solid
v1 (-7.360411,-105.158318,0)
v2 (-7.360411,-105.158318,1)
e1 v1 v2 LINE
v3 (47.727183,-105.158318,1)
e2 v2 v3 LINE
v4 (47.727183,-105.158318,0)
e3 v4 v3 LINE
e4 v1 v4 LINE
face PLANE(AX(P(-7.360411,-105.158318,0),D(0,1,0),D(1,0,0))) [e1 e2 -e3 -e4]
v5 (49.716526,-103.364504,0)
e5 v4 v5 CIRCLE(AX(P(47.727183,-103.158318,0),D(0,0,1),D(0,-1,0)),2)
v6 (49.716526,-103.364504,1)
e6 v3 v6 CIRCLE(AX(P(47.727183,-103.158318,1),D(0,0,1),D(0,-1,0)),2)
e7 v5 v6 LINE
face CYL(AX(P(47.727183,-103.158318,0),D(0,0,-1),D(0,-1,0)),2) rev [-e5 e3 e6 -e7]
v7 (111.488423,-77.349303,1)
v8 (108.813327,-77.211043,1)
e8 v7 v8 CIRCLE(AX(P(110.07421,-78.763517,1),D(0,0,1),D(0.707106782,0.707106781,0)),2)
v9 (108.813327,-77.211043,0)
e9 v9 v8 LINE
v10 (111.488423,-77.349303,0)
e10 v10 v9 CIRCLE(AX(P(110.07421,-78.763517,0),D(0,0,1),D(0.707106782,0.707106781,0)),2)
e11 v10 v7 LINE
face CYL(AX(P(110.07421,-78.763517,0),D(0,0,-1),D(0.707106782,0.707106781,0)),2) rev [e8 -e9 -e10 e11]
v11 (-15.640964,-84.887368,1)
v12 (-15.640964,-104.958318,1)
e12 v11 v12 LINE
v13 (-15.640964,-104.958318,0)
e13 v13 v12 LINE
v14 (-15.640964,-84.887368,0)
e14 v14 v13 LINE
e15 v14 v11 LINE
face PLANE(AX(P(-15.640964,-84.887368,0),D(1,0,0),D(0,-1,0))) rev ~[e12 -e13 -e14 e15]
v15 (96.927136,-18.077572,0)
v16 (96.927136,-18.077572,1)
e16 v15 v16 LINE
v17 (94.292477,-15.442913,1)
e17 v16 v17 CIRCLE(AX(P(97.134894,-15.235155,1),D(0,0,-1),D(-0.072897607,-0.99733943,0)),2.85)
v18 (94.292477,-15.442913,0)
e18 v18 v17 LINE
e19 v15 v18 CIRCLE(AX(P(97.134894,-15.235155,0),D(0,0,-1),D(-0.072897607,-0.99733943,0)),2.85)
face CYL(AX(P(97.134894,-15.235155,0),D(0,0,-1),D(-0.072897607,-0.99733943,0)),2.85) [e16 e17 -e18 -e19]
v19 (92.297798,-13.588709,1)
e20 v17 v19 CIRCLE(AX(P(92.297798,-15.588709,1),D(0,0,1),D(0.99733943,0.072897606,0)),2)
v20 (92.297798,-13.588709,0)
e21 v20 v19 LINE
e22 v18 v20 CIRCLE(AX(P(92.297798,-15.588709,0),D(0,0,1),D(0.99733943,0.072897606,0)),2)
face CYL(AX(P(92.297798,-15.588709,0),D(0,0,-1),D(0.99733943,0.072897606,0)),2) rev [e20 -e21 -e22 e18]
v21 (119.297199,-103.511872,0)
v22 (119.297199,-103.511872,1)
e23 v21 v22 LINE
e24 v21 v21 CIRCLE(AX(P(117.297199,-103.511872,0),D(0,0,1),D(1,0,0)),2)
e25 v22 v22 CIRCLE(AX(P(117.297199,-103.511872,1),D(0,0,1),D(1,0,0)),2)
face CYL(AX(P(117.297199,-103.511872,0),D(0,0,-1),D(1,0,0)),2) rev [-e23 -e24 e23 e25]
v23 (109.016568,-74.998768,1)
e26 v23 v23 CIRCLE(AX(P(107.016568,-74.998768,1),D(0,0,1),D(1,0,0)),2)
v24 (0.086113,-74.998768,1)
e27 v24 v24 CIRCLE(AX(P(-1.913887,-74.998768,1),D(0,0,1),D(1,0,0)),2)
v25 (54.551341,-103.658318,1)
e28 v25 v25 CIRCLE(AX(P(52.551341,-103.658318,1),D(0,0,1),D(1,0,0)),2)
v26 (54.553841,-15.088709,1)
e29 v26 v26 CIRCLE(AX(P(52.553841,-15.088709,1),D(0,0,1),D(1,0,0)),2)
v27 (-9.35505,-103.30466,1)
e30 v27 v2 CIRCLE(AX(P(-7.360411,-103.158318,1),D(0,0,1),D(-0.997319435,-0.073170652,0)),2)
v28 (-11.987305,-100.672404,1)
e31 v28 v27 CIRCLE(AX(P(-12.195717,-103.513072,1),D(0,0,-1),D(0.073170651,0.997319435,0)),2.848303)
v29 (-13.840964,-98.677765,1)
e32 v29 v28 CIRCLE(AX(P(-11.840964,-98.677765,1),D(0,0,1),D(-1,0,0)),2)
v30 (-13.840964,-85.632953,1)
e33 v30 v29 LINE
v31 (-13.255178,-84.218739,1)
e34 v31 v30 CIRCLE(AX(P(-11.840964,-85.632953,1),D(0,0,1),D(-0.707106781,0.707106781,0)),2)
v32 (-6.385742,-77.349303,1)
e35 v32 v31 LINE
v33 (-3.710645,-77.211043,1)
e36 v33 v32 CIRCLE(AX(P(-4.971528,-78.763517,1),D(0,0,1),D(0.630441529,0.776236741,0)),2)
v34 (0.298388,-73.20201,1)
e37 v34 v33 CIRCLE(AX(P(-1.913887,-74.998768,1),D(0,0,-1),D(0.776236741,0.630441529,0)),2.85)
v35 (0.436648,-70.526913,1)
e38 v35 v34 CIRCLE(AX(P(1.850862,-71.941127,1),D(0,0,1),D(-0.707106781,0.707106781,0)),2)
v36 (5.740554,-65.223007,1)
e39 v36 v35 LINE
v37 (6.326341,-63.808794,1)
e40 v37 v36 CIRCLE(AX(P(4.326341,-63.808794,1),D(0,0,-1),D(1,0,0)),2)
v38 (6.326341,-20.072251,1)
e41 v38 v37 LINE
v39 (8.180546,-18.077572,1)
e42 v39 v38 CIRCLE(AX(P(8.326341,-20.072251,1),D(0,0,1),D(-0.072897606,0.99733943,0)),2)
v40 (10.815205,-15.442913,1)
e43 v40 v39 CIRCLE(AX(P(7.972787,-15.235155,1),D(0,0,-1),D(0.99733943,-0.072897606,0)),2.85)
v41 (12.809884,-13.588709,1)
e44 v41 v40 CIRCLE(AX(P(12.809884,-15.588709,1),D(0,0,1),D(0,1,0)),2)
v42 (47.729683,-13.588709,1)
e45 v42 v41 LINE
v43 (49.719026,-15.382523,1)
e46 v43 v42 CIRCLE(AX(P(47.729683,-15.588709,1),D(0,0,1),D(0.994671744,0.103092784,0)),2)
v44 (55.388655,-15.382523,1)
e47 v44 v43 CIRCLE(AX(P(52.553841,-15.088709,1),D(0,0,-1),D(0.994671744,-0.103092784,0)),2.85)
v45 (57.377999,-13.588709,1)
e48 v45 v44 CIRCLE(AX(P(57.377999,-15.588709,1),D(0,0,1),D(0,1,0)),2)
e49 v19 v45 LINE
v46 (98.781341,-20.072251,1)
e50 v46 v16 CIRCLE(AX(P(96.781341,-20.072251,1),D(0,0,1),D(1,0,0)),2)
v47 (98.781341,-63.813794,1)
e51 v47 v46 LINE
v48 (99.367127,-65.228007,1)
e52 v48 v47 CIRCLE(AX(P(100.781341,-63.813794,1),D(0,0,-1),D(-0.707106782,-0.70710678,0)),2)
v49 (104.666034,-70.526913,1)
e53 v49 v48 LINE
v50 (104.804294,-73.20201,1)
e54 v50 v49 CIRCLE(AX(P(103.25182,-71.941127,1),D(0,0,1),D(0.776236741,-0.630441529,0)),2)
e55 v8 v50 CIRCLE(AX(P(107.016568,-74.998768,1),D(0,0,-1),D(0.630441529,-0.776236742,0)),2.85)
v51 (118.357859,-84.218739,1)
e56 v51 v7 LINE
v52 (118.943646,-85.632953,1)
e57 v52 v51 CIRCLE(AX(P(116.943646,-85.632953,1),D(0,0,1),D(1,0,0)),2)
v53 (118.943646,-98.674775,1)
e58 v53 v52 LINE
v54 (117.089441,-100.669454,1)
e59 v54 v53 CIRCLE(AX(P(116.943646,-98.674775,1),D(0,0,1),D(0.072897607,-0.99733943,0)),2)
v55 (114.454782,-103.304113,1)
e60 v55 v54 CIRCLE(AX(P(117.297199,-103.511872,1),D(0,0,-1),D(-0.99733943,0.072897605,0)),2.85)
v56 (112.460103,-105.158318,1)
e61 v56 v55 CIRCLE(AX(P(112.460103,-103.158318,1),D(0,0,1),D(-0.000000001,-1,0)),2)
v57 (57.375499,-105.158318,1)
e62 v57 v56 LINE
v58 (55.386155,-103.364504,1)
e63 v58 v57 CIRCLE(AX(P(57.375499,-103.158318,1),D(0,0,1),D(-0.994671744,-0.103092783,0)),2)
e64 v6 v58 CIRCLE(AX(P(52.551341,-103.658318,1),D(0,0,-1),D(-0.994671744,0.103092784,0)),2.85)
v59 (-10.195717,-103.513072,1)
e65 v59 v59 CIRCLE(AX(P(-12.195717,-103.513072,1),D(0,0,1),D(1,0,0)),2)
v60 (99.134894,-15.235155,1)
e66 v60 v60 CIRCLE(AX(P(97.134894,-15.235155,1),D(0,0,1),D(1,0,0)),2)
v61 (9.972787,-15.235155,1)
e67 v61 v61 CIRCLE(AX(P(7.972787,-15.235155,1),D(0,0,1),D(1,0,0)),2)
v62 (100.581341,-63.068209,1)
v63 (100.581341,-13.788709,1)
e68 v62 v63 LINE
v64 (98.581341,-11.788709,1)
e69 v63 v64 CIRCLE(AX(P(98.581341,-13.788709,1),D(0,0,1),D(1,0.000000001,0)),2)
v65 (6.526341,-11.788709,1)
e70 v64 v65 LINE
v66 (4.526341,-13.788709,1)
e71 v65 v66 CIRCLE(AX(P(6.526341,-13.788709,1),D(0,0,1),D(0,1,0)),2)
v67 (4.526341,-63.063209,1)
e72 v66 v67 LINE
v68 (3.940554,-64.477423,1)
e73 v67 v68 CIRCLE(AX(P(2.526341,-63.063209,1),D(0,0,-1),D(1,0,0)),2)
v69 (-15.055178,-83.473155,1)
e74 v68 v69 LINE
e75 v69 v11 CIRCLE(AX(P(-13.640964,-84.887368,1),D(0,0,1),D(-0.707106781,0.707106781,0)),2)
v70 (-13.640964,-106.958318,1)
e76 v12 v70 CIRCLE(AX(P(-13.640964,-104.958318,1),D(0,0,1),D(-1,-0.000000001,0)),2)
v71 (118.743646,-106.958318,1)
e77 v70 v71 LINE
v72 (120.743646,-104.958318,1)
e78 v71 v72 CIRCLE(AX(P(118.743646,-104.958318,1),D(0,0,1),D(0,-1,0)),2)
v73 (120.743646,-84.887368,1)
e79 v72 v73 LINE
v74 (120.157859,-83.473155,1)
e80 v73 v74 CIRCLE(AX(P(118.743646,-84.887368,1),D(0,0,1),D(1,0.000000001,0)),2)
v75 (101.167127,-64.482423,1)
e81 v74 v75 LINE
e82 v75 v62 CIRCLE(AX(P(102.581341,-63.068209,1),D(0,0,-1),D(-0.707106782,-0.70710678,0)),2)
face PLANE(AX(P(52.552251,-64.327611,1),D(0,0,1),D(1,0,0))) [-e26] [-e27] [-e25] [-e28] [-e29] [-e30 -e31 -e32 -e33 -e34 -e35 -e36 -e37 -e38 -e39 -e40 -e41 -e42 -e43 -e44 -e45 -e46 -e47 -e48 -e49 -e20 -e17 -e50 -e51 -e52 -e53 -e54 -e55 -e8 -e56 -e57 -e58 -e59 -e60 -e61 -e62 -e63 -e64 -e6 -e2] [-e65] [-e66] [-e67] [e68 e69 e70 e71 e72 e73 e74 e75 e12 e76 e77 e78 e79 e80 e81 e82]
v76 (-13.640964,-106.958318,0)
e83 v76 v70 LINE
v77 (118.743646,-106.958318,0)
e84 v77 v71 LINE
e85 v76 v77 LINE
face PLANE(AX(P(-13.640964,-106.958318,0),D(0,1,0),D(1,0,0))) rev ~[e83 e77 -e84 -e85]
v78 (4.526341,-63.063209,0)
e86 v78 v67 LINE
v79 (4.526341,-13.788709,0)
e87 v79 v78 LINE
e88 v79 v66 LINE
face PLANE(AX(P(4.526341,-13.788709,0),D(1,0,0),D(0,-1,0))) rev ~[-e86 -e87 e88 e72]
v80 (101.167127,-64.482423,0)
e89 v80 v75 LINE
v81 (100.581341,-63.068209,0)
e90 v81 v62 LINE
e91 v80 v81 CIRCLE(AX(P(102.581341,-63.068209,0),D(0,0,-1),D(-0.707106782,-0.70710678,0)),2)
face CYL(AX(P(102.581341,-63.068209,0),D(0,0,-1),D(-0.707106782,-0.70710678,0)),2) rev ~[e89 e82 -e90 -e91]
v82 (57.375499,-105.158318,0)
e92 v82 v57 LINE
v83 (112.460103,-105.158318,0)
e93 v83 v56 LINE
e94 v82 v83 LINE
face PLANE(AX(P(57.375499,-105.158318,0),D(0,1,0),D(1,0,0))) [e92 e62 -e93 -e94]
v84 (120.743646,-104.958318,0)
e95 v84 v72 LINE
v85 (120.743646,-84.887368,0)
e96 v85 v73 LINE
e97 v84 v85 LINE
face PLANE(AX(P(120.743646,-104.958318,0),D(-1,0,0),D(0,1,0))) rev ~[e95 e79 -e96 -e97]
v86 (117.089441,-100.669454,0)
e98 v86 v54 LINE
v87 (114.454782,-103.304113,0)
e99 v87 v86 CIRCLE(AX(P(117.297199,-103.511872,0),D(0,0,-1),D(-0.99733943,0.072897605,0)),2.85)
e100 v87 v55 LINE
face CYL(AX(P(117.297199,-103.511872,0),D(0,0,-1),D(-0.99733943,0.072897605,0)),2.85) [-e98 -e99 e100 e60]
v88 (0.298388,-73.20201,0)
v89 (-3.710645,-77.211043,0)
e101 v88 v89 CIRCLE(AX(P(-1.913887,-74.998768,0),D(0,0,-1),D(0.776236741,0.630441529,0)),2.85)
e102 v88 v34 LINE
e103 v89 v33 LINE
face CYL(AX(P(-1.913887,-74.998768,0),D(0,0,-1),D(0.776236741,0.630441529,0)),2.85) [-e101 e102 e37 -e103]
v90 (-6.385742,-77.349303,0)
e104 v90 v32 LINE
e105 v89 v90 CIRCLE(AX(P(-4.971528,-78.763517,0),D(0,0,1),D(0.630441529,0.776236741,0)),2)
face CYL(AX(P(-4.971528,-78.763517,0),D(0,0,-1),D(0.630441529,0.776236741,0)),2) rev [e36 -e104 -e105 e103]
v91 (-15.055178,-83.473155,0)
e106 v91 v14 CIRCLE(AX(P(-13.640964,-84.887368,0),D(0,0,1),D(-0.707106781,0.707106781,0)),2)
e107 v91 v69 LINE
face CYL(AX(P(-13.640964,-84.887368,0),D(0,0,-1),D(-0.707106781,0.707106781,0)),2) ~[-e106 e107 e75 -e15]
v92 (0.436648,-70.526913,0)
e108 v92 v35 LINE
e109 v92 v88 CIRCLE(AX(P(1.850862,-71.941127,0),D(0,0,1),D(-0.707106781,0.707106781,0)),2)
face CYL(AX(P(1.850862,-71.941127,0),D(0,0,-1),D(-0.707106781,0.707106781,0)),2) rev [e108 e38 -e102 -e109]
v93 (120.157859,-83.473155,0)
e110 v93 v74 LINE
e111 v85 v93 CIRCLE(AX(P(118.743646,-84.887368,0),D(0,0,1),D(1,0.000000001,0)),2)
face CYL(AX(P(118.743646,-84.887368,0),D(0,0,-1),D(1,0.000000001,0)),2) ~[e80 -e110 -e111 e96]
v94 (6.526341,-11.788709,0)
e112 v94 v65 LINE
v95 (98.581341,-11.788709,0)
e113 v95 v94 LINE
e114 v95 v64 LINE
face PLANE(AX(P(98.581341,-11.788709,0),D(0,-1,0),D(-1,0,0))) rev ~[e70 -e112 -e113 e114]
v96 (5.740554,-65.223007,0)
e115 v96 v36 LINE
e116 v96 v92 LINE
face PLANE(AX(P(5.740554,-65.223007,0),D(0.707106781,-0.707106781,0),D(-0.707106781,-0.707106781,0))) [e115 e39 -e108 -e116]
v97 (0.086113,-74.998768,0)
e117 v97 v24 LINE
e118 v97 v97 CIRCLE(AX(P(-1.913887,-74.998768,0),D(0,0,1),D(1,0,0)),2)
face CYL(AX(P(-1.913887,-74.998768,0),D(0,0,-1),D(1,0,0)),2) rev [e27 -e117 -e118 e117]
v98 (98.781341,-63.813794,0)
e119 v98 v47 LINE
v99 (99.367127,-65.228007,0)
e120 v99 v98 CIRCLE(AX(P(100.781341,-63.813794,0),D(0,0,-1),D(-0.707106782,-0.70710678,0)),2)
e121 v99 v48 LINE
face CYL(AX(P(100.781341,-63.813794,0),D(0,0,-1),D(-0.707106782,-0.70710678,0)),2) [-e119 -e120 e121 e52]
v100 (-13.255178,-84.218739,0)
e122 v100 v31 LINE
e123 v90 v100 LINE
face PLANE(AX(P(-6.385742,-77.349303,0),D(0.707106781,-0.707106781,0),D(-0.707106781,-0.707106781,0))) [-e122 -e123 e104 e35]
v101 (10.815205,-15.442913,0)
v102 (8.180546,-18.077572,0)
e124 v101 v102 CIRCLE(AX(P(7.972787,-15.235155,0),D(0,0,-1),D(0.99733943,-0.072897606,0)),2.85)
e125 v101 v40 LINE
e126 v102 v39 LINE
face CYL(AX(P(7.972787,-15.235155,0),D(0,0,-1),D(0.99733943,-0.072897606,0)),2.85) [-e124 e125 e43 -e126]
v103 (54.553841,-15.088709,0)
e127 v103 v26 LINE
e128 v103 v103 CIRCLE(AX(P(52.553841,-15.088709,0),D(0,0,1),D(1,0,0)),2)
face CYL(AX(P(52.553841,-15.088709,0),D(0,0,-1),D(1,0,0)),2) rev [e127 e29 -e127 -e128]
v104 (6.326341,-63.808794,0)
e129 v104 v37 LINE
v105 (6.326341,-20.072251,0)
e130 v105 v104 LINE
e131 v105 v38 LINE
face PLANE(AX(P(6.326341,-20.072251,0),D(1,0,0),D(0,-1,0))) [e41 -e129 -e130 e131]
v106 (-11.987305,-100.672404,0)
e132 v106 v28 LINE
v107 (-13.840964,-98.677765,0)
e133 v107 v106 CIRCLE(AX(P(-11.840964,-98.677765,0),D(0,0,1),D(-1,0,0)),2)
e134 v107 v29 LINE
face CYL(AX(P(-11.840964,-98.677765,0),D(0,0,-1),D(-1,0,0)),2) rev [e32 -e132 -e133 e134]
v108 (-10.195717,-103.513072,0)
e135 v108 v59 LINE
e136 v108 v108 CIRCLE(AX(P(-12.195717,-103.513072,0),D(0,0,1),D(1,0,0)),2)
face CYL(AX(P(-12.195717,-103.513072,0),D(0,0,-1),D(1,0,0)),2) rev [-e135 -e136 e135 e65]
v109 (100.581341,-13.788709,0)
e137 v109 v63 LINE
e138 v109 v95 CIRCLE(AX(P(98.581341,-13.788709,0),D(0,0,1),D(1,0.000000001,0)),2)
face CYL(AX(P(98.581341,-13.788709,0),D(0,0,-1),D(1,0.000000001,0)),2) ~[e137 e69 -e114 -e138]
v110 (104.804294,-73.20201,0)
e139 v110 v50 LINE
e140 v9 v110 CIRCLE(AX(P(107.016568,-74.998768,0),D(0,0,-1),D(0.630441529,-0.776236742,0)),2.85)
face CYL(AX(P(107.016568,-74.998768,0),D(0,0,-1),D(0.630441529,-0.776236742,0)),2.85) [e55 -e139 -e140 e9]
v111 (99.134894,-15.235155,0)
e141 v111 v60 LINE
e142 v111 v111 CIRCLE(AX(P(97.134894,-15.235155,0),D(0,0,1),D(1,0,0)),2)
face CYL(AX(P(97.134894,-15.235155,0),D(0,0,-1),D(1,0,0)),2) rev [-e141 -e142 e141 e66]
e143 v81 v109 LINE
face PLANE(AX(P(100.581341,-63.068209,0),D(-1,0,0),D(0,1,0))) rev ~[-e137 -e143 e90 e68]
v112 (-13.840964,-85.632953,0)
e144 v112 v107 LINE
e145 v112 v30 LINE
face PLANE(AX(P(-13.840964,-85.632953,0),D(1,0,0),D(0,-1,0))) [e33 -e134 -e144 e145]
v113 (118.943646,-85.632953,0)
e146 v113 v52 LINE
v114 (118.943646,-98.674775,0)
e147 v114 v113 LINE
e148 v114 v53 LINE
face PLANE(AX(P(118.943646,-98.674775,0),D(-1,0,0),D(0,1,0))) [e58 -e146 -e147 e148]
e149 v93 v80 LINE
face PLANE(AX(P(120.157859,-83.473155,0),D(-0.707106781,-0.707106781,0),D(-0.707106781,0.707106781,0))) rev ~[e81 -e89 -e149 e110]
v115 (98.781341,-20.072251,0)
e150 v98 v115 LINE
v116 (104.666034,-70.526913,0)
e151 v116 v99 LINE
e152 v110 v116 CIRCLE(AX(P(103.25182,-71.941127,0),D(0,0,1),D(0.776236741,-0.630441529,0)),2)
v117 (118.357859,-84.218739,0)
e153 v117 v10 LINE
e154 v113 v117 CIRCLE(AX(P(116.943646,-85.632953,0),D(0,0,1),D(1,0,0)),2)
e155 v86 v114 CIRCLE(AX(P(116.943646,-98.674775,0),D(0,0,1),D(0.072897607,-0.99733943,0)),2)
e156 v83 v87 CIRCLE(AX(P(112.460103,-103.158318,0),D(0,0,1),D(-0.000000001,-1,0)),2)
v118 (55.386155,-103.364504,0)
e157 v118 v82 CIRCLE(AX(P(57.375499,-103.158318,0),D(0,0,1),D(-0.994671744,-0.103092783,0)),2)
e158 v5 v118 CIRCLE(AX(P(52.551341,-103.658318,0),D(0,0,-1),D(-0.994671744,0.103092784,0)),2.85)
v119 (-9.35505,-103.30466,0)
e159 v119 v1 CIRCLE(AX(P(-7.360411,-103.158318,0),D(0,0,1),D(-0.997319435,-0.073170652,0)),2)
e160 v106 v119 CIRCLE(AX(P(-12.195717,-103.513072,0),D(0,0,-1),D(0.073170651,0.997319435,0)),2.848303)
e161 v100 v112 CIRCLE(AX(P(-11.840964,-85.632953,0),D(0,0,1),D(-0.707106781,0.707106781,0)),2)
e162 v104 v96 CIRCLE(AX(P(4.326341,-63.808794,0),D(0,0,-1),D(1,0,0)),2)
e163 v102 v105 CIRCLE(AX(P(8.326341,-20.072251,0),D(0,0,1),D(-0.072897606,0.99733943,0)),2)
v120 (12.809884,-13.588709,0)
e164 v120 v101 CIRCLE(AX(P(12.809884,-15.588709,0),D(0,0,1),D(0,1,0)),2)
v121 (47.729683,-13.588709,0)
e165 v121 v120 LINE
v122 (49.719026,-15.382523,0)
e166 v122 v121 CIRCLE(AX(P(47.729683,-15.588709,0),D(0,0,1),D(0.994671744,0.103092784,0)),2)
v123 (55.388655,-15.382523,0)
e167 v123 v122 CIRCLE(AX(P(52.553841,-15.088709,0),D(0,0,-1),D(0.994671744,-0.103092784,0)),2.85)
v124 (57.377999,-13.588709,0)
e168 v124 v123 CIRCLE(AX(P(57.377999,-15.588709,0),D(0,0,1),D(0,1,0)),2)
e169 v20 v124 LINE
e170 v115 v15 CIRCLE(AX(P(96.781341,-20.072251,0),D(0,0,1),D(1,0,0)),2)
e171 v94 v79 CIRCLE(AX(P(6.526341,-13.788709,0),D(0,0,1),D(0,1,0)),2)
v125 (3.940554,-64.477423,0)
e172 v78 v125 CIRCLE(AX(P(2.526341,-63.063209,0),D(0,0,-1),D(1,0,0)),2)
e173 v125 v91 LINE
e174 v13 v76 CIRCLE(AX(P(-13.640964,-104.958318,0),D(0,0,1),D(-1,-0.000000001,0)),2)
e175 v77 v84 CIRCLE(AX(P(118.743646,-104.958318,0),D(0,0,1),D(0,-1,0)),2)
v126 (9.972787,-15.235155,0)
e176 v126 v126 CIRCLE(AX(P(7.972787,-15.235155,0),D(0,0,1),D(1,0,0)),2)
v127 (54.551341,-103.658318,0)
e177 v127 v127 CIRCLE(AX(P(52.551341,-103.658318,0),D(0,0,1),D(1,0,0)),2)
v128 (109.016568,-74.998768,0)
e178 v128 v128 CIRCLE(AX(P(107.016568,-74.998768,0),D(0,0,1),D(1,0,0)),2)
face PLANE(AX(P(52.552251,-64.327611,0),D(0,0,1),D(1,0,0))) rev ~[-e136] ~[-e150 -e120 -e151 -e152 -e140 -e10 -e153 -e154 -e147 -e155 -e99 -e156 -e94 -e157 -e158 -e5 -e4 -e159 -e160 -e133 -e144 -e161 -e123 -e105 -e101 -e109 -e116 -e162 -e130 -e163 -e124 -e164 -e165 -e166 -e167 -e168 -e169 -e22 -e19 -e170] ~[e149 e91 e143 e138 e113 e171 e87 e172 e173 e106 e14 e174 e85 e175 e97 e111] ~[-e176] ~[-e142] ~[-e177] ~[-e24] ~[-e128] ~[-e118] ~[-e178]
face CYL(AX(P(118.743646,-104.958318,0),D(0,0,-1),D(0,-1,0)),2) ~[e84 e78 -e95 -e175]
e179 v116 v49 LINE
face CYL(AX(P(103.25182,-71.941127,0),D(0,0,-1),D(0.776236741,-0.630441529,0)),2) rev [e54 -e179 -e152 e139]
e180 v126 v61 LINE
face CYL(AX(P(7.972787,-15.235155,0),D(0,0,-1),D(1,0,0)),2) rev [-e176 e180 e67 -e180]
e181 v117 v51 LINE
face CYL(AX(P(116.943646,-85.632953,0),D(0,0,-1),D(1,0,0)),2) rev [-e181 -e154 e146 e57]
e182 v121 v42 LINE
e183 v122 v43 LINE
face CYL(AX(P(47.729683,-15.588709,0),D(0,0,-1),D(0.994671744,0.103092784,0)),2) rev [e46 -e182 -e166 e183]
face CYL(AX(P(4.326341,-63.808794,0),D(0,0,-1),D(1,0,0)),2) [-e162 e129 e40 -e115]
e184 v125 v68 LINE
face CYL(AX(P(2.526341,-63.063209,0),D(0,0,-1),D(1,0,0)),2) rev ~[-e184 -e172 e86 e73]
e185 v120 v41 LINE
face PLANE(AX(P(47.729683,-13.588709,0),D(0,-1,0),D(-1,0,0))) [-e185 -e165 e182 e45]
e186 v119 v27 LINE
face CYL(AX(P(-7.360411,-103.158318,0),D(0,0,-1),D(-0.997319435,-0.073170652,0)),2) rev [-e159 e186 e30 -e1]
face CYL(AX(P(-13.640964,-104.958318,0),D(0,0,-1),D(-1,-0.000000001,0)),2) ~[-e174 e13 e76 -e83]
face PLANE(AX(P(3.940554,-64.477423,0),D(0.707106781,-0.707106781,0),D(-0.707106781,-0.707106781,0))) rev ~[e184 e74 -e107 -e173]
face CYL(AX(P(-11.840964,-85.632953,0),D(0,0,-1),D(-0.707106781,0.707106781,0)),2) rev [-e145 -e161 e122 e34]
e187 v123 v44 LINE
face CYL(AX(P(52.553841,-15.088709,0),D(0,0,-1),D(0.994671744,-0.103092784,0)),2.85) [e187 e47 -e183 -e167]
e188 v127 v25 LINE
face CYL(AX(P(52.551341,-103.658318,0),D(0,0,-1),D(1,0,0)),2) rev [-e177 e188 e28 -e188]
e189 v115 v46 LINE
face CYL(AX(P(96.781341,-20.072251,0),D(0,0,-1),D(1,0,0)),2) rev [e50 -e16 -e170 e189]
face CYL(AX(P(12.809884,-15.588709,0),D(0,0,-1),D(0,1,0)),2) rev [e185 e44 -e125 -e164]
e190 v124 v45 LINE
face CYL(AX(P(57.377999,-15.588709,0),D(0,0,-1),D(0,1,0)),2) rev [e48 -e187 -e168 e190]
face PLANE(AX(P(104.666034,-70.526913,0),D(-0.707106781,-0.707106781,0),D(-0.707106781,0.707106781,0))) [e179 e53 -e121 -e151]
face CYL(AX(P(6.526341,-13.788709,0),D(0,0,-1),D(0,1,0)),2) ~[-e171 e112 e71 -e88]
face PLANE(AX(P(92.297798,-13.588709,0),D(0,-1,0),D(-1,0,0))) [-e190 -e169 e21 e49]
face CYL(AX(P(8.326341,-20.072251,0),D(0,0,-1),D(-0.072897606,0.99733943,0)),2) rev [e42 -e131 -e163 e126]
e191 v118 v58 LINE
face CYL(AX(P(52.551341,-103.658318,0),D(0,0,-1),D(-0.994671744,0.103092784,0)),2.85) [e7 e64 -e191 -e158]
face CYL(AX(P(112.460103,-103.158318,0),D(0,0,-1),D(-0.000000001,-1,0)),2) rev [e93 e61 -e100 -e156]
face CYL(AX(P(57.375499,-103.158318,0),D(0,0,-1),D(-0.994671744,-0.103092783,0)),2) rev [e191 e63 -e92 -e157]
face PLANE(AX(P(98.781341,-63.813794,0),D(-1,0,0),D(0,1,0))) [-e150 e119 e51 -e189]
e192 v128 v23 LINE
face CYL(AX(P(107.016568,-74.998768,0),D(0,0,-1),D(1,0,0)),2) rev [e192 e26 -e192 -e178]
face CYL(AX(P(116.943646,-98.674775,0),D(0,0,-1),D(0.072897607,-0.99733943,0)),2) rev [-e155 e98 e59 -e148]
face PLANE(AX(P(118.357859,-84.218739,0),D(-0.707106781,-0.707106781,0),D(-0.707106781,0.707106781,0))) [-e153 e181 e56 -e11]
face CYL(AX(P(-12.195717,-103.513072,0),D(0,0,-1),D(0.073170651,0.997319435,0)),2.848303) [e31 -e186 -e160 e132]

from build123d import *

# Parameters (mm, degrees)
SKETCH1_R           = 2
BOSS_EXTRUDE1_DEPTH = 1


with BuildPart() as part:
    # Sketch1 → Boss-Extrude1 (new body)
    with BuildSketch(Plane.XY):
        with BuildLine():
            Line((100.581340861, -63.068209116), (100.581340861, -13.788708514))
            ThreePointArc((100.581340861, -13.788708514), (99.995554423, -12.374494952), (98.581340861, -11.788708514))
            Line((98.581340861, -11.788708514), (6.526340861, -11.788708514))
            ThreePointArc((6.526340861, -11.788708514), (5.112127298, -12.374494952), (4.526340861, -13.788708514))
            Line((4.526340861, -13.788708514), (4.526340861, -63.063209116))
            ThreePointArc((4.526340861, -63.063209116), (4.374099926, -63.828575981), (3.940554423, -64.477422679))
            Line((3.940554423, -64.477422679), (-15.055177547, -83.473154649))
            ThreePointArc((-15.055177547, -83.473154649), (-15.48872305, -84.122001347), (-15.640963985, -84.887368211))
            Line((-15.640963985, -84.887368211), (-15.640963985, -104.958318205))
            ThreePointArc((-15.640963985, -104.958318205), (-15.055177547, -106.372531767), (-13.640963985, -106.958318205))
            Line((-13.640963985, -106.958318205), (118.743645706, -106.958318205))
            ThreePointArc((118.743645706, -106.958318205), (120.157859269, -106.372531767), (120.743645706, -104.958318205))
            Line((120.743645706, -104.958318205), (120.743645706, -84.887368211))
            ThreePointArc((120.743645706, -84.887368211), (120.591404771, -84.122001347), (120.157859269, -83.473154649))
            Line((120.157859269, -83.473154649), (101.167127298, -64.482422679))
            ThreePointArc((101.167127298, -64.482422679), (100.733581796, -63.833575981), (100.581340861, -63.068209116))
        make_face()
        with Locations((-12.195717461, -103.513071681)):
            Circle(SKETCH1_R, mode=Mode.SUBTRACT)
        with Locations((52.551340861, -103.658318205)):
            Circle(SKETCH1_R, mode=Mode.SUBTRACT)
        with Locations((117.297199097, -103.511871596)):
            Circle(SKETCH1_R, mode=Mode.SUBTRACT)
        with Locations((107.016568327, -74.998768464)):
            Circle(SKETCH1_R, mode=Mode.SUBTRACT)
        with Locations((-1.913886606, -74.998768464)):
            Circle(SKETCH1_R, mode=Mode.SUBTRACT)
        with Locations((7.97278747, -15.235155124)):
            Circle(SKETCH1_R, mode=Mode.SUBTRACT)
        with Locations((52.553840861, -15.088708514)):
            Circle(SKETCH1_R, mode=Mode.SUBTRACT)
        with Locations((97.134894251, -15.235155124)):
            Circle(SKETCH1_R, mode=Mode.SUBTRACT)
        with BuildLine():
            Line((98.781340861, -63.813793529), (98.781340861, -20.07225136))
            ThreePointArc((98.781340861, -20.07225136), (98.246194168, -18.710559476), (96.927136073, -18.0775725))
            ThreePointArc((96.927136073, -18.0775725), (95.119639925, -17.25040945), (94.292476875, -15.442913302))
            ThreePointArc((94.292476875, -15.442913302), (93.659489899, -14.123855207), (92.297798015, -13.588708514))
            Line((92.297798015, -13.588708514), (57.377998818, -13.588708514))
            ThreePointArc((57.377998818, -13.588708514), (56.03866524, -14.103385126), (55.388655331, -15.382522947))
            ThreePointArc((55.388655331, -15.382522947), (52.553840861, -17.938708514), (49.719026391, -15.382522947))
            ThreePointArc((49.719026391, -15.382522947), (49.069016481, -14.103385126), (47.729682903, -13.588708514))
            Line((47.729682903, -13.588708514), (12.809883707, -13.588708514))
            ThreePointArc((12.809883707, -13.588708514), (11.448191822, -14.123855207), (10.815204846, -15.442913302))
            ThreePointArc((10.815204846, -15.442913302), (9.988041797, -17.25040945), (8.180545648, -18.0775725))
            ThreePointArc((8.180545648, -18.0775725), (6.861487553, -18.710559476), (6.326340861, -20.07225136))
            Line((6.326340861, -20.07225136), (6.326340861, -63.808793529))
            ThreePointArc((6.326340861, -63.808793529), (6.174099926, -64.574160393), (5.740554423, -65.223007091))
            Line((5.740554423, -65.223007091), (0.436648028, -70.526913486))
            ThreePointArc((0.436648028, -70.526913486), (-0.146472505, -71.837896664), (0.298388107, -73.202010106))
            ThreePointArc((0.298388107, -73.202010106), (0.101367721, -77.01402279), (-3.710644963, -77.211043177))
            ThreePointArc((-3.710644963, -77.211043177), (-5.074758405, -76.766182564), (-6.385741583, -77.349303097))
            Line((-6.385741583, -77.349303097), (-13.255177547, -84.218739061))
            ThreePointArc((-13.255177547, -84.218739061), (-13.68872305, -84.867585759), (-13.840963985, -85.632952624))
            Line((-13.840963985, -85.632952624), (-13.840963985, -98.677765048))
            ThreePointArc((-13.840963985, -98.677765048), (-13.306003678, -100.039256399), (-11.987305288, -100.672403919))
            ThreePointArc((-11.987305288, -100.672403919), (-10.18166322, -101.49901744), (-9.355049698, -103.304659508))
            ThreePointArc((-9.355049698, -103.304659508), (-8.721902178, -104.623357898), (-7.360410828, -105.158318205))
            Line((-7.360410828, -105.158318205), (47.727182903, -105.158318205))
            ThreePointArc((47.727182903, -105.158318205), (49.066516481, -104.643641593), (49.716526391, -103.364503772))
            ThreePointArc((49.716526391, -103.364503772), (52.551340861, -100.808318205), (55.386155331, -103.364503772))
            ThreePointArc((55.386155331, -103.364503772), (56.03616524, -104.643641593), (57.375498818, -105.158318205))
            Line((57.375498818, -105.158318205), (112.46010286, -105.158318205))
            ThreePointArc((112.46010286, -105.158318205), (113.821794745, -104.623171513), (114.454781721, -103.304113418))
            ThreePointArc((114.454781721, -103.304113418), (115.28194477, -101.496617269), (117.089440919, -100.66945422))
            ThreePointArc((117.089440919, -100.66945422), (118.408499014, -100.036467243), (118.943645706, -98.674775359))
            Line((118.943645706, -98.674775359), (118.943645706, -85.632952624))
            ThreePointArc((118.943645706, -85.632952624), (118.791404771, -84.867585759), (118.357859269, -84.218739061))
            Line((118.357859269, -84.218739061), (111.488423304, -77.349303097))
            ThreePointArc((111.488423304, -77.349303097), (110.177440127, -76.766182564), (108.813326684, -77.211043177))
            ThreePointArc((108.813326684, -77.211043177), (105.001314001, -77.01402279), (104.804293614, -73.202010106))
            ThreePointArc((104.804293614, -73.202010106), (105.249154227, -71.837896664), (104.666033694, -70.526913486))
            Line((104.666033694, -70.526913486), (99.367127298, -65.228007091))
            ThreePointArc((99.367127298, -65.228007091), (98.933581796, -64.579160393), (98.781340861, -63.813793529))
        make_face(mode=Mode.SUBTRACT)
    extrude(amount=BOSS_EXTRUDE1_DEPTH)


solid = part.part
